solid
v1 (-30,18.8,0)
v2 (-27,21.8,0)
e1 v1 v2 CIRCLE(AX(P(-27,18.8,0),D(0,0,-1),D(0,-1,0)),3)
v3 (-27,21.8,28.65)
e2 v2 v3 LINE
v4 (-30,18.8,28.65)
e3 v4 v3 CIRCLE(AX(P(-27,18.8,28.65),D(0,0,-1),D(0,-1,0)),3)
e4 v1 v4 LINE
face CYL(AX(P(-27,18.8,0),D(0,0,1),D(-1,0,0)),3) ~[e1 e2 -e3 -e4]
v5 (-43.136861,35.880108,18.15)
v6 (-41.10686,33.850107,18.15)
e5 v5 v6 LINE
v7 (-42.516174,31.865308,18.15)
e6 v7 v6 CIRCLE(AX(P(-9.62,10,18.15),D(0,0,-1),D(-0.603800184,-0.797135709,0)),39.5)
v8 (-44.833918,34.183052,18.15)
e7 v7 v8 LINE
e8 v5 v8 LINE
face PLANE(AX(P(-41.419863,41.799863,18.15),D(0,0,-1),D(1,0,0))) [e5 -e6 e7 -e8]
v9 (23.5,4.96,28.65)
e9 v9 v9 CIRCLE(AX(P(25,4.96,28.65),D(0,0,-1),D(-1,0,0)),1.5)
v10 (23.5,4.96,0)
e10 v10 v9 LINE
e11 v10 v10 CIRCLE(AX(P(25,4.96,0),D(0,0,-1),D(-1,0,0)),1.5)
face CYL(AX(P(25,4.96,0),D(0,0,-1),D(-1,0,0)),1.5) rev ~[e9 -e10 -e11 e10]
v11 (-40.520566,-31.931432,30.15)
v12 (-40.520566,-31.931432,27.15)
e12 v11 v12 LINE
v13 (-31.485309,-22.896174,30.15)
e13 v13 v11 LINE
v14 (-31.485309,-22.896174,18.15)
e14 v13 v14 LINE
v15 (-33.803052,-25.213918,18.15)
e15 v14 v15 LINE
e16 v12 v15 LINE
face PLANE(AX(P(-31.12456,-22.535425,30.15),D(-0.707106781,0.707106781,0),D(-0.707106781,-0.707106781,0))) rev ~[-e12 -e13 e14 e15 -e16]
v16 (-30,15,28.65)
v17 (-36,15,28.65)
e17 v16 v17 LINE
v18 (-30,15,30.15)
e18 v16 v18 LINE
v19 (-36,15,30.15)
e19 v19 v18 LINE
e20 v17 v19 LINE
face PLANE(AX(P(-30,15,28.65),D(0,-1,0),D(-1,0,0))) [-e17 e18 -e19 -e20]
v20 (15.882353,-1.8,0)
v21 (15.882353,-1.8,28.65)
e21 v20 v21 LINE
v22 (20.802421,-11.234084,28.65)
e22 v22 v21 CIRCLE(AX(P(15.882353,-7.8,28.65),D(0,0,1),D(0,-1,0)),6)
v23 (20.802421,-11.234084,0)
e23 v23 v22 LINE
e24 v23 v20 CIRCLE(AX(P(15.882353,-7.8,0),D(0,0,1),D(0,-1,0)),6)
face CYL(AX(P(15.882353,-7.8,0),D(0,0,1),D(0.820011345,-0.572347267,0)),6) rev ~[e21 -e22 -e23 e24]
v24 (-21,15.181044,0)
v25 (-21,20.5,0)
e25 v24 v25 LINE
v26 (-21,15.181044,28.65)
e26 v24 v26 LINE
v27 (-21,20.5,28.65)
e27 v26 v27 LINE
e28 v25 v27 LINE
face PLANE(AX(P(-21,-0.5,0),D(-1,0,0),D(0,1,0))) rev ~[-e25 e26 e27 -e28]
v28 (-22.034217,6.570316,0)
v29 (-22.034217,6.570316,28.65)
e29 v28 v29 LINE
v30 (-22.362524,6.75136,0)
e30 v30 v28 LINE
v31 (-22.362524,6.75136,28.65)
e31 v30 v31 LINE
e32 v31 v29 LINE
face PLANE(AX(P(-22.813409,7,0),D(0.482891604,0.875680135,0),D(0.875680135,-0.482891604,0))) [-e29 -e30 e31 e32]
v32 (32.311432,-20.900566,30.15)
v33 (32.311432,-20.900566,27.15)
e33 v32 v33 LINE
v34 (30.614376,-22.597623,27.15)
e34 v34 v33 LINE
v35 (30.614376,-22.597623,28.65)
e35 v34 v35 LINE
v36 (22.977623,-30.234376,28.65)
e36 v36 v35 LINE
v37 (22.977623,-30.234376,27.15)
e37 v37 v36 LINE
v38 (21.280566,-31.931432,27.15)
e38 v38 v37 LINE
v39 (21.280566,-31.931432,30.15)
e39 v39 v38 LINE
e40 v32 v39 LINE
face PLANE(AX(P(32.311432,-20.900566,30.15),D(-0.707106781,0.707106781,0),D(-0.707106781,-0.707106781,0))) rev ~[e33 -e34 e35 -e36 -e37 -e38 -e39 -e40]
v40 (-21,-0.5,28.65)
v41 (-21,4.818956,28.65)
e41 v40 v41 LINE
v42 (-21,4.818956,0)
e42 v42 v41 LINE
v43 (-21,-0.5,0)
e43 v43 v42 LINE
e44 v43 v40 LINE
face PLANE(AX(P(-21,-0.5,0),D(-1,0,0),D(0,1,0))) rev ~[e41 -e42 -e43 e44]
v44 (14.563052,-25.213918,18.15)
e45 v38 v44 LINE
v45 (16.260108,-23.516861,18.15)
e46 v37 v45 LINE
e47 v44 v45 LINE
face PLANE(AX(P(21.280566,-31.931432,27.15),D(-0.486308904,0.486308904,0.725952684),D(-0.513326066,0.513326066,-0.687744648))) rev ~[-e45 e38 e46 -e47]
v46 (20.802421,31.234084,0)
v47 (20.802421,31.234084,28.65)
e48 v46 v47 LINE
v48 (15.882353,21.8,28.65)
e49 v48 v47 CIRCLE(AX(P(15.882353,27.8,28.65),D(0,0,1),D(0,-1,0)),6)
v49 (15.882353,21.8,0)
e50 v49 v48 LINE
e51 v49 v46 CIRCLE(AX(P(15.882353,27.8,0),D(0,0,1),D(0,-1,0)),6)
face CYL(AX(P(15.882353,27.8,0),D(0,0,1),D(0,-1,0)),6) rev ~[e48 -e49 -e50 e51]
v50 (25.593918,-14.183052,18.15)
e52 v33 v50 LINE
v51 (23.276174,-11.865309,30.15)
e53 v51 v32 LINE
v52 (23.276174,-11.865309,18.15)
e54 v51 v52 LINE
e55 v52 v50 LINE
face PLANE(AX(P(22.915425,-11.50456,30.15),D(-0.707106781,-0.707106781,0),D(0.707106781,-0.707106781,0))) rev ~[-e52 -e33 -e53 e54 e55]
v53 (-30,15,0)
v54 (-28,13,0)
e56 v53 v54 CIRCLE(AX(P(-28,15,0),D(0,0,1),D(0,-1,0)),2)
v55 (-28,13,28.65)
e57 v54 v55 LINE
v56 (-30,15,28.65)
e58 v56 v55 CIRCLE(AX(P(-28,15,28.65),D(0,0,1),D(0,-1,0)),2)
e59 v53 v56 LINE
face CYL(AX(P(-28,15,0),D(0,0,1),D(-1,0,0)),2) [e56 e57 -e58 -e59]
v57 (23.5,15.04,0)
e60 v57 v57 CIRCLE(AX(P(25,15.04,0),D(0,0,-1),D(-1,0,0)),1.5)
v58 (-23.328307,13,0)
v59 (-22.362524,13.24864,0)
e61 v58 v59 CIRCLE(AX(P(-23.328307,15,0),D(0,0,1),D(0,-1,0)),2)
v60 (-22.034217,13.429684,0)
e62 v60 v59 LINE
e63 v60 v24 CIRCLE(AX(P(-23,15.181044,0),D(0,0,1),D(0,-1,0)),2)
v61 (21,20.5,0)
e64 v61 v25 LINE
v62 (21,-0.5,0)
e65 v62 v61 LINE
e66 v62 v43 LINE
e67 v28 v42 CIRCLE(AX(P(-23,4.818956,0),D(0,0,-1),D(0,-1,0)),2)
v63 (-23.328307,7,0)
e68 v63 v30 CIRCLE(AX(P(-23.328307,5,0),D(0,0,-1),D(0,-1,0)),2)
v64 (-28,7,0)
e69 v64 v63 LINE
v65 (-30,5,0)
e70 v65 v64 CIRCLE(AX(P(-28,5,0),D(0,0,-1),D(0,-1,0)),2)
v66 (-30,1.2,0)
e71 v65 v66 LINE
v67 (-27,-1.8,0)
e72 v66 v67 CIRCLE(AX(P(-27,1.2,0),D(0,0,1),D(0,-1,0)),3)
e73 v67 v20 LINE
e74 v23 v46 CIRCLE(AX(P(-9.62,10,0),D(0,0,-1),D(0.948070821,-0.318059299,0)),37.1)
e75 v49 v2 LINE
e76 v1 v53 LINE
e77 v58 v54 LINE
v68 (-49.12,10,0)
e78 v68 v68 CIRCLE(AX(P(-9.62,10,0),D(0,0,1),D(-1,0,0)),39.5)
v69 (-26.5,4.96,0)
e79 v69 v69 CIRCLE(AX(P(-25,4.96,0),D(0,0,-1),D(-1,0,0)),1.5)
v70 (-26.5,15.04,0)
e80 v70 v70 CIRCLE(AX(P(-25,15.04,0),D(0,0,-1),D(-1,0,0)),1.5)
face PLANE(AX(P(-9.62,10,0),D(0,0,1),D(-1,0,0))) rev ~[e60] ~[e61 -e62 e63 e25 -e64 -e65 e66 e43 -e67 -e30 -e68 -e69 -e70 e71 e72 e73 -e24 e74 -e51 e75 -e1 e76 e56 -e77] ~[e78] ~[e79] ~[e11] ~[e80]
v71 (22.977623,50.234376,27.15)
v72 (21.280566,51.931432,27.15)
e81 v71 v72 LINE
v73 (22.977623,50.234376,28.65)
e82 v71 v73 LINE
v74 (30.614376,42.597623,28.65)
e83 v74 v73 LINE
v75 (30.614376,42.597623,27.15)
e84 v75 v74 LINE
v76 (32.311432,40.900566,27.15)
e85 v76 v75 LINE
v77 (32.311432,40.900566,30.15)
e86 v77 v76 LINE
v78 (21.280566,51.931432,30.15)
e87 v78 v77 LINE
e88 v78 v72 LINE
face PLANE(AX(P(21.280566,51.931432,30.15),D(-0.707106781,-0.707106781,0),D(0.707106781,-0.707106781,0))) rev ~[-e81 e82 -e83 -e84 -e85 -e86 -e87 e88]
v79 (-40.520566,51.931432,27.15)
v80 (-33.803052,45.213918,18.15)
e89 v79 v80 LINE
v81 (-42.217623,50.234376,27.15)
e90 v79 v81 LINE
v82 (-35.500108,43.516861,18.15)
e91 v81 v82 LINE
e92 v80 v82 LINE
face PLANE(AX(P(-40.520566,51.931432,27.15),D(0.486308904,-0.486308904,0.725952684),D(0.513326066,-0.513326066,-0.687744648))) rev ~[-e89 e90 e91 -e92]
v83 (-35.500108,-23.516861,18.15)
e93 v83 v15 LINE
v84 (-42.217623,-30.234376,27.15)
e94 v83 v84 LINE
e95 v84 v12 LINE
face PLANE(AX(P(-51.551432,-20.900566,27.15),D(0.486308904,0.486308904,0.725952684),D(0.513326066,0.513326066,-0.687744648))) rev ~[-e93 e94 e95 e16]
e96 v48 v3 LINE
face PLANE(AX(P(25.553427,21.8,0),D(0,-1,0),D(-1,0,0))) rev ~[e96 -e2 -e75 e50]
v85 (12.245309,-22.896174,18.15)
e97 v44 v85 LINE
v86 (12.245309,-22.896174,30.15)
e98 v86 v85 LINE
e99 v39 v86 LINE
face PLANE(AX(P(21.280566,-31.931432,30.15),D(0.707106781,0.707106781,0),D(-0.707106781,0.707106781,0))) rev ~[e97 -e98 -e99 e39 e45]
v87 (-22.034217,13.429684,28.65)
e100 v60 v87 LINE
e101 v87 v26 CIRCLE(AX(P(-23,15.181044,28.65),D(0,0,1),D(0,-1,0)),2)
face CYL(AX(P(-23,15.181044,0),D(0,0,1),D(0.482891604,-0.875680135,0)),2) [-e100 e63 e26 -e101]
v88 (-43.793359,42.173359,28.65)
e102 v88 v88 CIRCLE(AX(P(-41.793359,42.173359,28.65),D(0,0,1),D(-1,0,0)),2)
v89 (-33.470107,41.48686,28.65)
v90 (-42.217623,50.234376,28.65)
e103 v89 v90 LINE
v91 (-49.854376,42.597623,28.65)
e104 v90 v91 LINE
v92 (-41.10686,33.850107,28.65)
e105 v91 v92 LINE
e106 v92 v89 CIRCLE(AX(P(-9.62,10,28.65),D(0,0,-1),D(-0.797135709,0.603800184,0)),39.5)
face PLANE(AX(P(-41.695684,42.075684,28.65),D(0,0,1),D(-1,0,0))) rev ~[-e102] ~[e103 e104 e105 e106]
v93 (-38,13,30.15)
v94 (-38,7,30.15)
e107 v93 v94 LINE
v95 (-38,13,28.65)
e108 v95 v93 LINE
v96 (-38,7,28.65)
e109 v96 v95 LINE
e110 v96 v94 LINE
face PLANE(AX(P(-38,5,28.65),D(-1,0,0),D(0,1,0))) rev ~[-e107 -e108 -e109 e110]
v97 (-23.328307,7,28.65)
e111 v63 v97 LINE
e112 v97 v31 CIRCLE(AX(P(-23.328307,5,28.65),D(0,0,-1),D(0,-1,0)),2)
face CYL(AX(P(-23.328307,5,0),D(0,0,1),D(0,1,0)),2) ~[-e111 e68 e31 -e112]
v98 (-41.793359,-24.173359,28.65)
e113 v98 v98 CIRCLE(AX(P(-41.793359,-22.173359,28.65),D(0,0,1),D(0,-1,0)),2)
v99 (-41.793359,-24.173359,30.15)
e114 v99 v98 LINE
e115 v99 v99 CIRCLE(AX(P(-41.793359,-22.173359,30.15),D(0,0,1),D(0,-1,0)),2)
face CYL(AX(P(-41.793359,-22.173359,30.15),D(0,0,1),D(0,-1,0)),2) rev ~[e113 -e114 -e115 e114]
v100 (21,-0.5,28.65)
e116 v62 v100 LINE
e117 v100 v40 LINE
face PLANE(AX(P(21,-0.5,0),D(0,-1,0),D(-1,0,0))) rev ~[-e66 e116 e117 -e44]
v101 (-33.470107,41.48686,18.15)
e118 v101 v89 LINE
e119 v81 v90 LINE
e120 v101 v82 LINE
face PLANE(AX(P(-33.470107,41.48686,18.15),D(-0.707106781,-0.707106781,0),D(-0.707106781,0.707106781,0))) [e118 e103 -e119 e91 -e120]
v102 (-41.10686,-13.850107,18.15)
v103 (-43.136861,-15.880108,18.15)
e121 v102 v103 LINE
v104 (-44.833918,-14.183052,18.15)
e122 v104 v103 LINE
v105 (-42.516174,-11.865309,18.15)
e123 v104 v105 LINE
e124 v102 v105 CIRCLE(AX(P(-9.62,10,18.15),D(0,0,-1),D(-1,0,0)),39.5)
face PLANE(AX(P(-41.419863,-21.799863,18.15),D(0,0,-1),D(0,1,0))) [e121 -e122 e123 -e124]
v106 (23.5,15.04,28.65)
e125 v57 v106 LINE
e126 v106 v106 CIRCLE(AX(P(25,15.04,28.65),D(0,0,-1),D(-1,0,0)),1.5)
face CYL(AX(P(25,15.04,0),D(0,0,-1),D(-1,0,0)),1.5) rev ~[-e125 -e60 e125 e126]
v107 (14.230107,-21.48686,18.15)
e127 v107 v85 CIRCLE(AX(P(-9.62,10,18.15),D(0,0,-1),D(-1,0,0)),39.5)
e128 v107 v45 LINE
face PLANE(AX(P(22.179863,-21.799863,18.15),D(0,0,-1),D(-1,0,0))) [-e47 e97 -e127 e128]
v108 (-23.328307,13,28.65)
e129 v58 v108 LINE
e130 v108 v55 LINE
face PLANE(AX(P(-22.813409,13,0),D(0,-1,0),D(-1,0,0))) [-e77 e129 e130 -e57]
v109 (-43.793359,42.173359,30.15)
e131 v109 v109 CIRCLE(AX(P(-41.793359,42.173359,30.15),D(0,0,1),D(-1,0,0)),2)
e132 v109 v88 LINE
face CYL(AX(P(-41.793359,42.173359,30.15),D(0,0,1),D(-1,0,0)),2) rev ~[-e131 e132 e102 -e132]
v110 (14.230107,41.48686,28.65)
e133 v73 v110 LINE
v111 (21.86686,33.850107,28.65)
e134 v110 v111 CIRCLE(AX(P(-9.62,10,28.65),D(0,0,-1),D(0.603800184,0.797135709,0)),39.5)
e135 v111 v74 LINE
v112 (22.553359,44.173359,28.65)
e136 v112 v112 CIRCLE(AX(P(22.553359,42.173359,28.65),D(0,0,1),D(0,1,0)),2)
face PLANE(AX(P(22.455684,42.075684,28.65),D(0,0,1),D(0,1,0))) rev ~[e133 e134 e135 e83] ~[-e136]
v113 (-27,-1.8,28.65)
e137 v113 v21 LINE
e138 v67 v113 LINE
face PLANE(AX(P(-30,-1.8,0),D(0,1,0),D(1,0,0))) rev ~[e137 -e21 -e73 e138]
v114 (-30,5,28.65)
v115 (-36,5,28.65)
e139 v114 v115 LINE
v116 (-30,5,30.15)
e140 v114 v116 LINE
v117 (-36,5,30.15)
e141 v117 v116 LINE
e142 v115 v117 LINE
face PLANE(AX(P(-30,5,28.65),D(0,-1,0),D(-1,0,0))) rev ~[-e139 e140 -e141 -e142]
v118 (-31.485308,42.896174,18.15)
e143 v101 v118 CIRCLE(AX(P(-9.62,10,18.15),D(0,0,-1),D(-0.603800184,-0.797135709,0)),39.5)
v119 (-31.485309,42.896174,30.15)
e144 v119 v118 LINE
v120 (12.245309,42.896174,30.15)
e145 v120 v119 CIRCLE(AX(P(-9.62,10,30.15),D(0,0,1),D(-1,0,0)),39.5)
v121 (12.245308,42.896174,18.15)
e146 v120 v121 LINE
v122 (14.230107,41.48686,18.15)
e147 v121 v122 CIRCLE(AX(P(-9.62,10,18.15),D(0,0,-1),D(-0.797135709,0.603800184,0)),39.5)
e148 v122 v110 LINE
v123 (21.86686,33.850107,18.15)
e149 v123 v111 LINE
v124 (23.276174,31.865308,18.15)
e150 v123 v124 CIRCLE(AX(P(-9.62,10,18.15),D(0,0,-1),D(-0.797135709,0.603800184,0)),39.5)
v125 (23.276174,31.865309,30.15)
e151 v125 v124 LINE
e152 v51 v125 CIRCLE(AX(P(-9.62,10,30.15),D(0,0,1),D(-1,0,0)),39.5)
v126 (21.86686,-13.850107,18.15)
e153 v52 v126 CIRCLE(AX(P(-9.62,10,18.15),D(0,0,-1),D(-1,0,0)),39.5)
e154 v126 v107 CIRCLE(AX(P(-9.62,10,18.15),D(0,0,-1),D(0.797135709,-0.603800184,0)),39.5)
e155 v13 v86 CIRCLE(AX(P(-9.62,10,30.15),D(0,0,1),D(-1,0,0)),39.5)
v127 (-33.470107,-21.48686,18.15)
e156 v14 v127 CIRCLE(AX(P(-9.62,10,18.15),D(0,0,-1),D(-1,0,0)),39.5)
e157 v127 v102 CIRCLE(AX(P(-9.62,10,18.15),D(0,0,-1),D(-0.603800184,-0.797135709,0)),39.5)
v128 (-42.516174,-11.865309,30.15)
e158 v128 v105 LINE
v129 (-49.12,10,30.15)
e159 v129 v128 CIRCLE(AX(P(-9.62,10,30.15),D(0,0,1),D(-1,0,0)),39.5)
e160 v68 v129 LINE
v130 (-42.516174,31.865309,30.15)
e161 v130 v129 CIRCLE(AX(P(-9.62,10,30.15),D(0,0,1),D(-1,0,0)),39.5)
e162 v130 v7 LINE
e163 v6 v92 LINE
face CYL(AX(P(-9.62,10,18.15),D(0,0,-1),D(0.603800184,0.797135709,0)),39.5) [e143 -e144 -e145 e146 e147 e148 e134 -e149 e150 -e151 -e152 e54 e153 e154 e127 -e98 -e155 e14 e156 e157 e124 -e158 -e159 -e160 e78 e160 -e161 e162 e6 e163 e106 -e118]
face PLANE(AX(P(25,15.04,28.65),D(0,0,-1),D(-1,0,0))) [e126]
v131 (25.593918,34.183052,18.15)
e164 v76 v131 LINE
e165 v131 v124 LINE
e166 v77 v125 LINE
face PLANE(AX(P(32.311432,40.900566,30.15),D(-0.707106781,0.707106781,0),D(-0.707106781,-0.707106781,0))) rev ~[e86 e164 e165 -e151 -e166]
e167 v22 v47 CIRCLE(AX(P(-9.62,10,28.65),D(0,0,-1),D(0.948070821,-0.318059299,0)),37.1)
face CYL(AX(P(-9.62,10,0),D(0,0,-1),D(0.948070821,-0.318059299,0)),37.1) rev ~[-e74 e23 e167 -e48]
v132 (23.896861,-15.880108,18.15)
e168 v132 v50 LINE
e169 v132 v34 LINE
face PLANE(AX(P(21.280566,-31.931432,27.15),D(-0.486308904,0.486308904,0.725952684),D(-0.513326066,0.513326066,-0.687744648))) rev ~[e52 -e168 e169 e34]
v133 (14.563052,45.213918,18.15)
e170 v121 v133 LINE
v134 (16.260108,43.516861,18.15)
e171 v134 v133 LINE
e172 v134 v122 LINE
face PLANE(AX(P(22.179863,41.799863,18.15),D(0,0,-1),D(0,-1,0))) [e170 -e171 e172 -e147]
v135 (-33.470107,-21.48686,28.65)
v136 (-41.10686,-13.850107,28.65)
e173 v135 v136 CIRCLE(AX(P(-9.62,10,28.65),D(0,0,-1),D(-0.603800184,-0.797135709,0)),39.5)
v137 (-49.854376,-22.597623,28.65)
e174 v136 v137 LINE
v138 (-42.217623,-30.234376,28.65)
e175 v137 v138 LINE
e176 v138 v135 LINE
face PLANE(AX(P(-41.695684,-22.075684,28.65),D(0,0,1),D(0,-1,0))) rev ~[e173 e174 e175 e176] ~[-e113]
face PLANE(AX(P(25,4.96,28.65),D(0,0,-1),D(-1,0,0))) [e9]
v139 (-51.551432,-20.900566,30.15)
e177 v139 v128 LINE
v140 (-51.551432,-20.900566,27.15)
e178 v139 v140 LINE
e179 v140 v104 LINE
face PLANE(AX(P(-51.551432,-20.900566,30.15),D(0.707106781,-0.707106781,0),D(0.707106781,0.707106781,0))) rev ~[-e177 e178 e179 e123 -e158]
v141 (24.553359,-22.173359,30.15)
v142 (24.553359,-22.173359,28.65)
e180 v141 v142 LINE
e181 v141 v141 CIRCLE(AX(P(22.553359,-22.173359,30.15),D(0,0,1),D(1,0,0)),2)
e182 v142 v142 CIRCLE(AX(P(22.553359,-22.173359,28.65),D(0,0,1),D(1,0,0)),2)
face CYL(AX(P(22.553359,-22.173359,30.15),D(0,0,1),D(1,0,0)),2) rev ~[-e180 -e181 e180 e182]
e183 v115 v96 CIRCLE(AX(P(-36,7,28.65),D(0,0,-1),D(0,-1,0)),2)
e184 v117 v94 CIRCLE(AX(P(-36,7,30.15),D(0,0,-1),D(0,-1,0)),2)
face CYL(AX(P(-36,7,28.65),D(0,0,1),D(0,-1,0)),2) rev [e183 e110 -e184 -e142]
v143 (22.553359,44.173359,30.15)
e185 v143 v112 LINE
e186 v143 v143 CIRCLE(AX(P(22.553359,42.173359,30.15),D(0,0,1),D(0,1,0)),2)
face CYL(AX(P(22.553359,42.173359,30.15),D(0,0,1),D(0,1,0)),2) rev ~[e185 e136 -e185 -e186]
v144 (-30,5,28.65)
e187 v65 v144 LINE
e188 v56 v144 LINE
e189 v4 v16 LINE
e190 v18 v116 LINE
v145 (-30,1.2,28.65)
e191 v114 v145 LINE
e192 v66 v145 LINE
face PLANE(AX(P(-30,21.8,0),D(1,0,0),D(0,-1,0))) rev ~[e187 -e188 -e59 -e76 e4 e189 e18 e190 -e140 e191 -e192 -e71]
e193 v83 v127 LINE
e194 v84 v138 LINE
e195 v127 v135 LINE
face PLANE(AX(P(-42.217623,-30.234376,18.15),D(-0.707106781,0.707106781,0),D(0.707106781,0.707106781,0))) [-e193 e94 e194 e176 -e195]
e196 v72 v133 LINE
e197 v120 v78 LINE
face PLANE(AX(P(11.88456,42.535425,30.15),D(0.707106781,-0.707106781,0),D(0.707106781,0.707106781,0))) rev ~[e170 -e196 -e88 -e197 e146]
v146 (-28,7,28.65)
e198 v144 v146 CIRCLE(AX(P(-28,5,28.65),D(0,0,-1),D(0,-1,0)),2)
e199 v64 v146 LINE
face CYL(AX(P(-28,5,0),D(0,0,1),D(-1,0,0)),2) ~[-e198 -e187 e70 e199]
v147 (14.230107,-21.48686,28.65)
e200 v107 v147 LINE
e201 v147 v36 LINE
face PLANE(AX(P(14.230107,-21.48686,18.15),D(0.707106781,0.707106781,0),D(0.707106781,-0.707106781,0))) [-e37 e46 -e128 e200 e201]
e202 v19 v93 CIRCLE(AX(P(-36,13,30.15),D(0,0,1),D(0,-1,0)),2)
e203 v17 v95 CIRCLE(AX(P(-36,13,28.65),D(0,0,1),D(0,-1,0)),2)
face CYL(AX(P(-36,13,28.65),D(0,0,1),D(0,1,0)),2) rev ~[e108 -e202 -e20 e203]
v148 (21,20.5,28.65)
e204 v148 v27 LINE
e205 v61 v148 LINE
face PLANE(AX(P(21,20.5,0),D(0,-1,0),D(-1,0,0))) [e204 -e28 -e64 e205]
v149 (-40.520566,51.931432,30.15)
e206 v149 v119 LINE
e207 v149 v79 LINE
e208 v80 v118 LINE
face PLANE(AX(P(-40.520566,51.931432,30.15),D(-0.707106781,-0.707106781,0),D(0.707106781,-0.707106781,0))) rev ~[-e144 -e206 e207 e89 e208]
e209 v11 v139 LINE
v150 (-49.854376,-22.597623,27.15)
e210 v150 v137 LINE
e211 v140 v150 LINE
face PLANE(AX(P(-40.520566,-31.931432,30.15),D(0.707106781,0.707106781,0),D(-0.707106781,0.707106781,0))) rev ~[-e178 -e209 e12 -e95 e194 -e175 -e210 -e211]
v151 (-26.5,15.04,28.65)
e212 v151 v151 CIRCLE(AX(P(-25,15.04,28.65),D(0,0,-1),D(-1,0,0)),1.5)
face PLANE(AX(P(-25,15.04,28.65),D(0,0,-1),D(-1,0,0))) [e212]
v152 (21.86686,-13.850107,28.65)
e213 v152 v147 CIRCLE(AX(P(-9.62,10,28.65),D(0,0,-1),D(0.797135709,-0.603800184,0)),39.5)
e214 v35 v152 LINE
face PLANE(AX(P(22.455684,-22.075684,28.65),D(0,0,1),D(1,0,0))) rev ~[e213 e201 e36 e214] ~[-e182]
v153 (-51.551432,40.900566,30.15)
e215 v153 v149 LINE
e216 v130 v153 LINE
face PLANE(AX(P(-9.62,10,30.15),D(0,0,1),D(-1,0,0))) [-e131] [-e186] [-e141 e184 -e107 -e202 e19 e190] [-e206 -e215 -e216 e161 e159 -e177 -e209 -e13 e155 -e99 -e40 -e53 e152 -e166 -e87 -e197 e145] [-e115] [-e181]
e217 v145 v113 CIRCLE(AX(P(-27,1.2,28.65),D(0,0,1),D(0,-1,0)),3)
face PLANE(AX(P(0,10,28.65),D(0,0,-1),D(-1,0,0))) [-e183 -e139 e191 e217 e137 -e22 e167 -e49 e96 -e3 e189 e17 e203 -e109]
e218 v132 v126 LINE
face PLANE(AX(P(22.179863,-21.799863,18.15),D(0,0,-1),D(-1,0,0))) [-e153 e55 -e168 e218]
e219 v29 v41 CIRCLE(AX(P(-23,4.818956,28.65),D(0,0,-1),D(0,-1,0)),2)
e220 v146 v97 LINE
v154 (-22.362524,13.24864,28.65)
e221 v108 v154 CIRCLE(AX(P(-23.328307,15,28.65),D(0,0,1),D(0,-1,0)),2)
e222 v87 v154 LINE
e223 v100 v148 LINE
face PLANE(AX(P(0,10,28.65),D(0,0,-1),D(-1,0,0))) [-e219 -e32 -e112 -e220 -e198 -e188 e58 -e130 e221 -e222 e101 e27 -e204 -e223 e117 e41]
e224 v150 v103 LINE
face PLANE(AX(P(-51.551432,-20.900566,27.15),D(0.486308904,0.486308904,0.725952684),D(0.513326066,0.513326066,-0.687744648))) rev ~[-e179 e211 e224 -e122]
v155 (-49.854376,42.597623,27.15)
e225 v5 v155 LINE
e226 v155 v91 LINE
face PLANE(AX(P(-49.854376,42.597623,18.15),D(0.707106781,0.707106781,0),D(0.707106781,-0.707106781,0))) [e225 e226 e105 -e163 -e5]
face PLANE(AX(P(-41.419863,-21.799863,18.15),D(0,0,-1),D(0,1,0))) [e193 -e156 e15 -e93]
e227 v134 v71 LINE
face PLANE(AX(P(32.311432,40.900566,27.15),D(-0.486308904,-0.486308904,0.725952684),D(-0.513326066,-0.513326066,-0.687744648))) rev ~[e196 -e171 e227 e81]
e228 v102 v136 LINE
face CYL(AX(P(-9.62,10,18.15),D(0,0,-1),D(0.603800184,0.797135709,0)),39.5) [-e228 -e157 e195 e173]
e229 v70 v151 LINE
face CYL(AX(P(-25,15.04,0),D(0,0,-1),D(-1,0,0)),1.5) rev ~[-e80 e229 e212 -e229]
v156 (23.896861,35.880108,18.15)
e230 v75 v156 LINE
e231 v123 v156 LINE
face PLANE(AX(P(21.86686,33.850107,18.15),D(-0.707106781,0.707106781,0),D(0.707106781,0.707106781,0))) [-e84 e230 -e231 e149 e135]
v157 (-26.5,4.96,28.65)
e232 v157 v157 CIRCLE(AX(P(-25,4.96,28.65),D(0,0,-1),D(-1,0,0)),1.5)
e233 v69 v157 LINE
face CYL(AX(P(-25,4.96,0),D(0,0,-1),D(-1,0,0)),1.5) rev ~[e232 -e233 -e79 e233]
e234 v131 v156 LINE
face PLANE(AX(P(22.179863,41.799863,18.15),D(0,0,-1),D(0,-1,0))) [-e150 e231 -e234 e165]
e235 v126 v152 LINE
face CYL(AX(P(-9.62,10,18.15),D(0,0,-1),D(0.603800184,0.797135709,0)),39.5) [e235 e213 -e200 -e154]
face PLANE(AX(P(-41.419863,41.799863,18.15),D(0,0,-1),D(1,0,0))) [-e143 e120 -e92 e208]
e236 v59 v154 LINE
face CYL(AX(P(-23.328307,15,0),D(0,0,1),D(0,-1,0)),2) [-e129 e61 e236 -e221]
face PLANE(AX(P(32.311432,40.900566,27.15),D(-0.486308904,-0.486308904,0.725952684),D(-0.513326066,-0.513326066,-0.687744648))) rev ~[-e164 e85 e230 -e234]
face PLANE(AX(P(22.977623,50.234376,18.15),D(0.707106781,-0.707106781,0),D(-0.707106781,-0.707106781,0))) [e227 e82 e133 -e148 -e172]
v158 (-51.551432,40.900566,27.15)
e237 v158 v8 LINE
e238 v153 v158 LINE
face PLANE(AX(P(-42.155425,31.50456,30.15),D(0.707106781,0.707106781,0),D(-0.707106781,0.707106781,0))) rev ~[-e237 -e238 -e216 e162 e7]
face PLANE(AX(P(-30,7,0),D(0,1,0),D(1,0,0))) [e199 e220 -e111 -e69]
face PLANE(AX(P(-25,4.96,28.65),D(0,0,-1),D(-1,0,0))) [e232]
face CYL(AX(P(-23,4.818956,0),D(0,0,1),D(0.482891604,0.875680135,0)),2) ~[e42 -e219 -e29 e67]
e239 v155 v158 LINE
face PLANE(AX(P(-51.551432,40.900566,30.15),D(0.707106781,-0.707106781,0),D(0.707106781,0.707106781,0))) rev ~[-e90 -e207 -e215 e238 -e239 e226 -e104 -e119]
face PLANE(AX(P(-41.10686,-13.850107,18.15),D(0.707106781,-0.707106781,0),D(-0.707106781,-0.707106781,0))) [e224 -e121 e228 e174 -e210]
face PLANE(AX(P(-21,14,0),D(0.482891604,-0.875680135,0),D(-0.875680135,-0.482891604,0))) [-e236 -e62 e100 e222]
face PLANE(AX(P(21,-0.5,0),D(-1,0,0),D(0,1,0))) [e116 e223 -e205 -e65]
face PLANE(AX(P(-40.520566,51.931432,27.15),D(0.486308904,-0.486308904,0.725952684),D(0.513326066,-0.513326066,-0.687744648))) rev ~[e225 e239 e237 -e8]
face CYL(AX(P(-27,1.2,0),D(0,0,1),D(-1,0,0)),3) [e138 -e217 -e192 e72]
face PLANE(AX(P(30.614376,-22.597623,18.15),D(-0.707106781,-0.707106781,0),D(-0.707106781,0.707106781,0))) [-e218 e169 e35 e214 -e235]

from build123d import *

# Parameters (mm, degrees)
SKETCH1_R           = 39.5
BOSS_EXTRUDE1_DEPTH = 30.15
SKETCH3_W           = 42
SKETCH3_H           = 21
CUT_EXTRUDE1_DEPTH  = 28.65
CUT_EXTRUDE2_DEPTH  = 28.65
SKETCH5_R           = 1.5
CUT_EXTRUDE3_DEPTH  = 28.65
SKETCH8_W           = 8
SKETCH8_H           = 10
CUT_EXTRUDE5_DEPTH  = 76.391291937
FILLET1_R           = 3
FILLET3_R           = 6
FILLET2_R           = 2
SKETCH12_R          = 2
BOSS_EXTRUDE3_DEPTH = 12
CUT_EXTRUDE6_REACH  = 78.373
CUT_EXTRUDE7_DEPTH  = 10.5
CIRPATTERN19_COUNT  = 4


with BuildPart() as part:
    # Sketch1 → Boss-Extrude1 (new body)
    with BuildSketch(Plane.XY):
        with Locations(Location((-9.62, 10, 0), (0, 0, 180))):
            Circle(SKETCH1_R)
    extrude(amount=BOSS_EXTRUDE1_DEPTH)

    # Sketch3 → Cut-Extrude1 (cut)
    with BuildSketch(Plane(origin=(0, 0, 0), x_dir=(-1, 0, 0), z_dir=(0, 0, -1))):
        with Locations((0, 10)):
            Rectangle(SKETCH3_W, SKETCH3_H)
    extrude(amount=-CUT_EXTRUDE1_DEPTH, mode=Mode.SUBTRACT)

    # Sketch4 → Cut-Extrude2 (cut)
    with BuildSketch(Plane(origin=(0, 0, 0), x_dir=(-1, 0, 0), z_dir=(0, 0, -1))):
        with BuildLine():
            Line((30, -1.8), (-25.55342747, -1.8))
            ThreePointArc((-25.55342747, -1.8), (46.72, 10), (-25.55342747, 21.8))
            Line((-25.55342747, 21.8), (30, 21.8))
            Line((30, 21.8), (30, -1.8))
        make_face()
    extrude(amount=-CUT_EXTRUDE2_DEPTH, mode=Mode.SUBTRACT)

    # Sketch5 → Cut-Extrude3 (cut)
    with BuildSketch(Plane(origin=(0, 0, 0), x_dir=(-1, 0, 0), z_dir=(0, 0, -1))):
        with Locations((25, 4.96)):
            Circle(SKETCH5_R)
        with Locations((25, 15.04)):
            Circle(SKETCH5_R)
        with Locations((-25, 4.96)):
            Circle(SKETCH5_R)
        with Locations((-25, 15.04)):
            Circle(SKETCH5_R)
        Polygon((30, 7), (22.813409321, 7), (21, 6), (21, 7), (21, 13), (21, 14), (22.813409321, 13), (30, 13), align=None)
    extrude(amount=-CUT_EXTRUDE3_DEPTH, mode=Mode.SUBTRACT)

    # Sketch8 → Cut-Extrude5 (cut, through all)
    with BuildSketch(Plane(origin=(0, 0, 28.65), x_dir=(-1, 0, 0), z_dir=(0, 0, -1))):
        with Locations((34, 10)):
            Rectangle(SKETCH8_W, SKETCH8_H)
    extrude(amount=-CUT_EXTRUDE5_DEPTH, mode=Mode.SUBTRACT)

    # Fillet1
    fillet1_edges = [part.edges().sort_by_distance(p)[0] for p in [
        (-30, -1.8, 14.325),
        (-30, 21.8, 14.325),
    ]]
    fillet(fillet1_edges, radius=FILLET1_R)

    # Fillet3
    fillet3_edges = [part.edges().sort_by_distance(p)[0] for p in [
        (25.55342747, 21.8, 14.325),
        (25.55342747, -1.8, 14.325),
    ]]
    fillet(fillet3_edges, radius=FILLET3_R)

    # Fillet2
    fillet2_edges = [part.edges().sort_by_distance(p)[0] for p in [
        (-30, 13, 14.325),
        (-30, 7, 14.325),
        (-22.813409321, 7, 14.325),
        (-21, 6, 14.325),
        (-21, 14, 14.325),
        (-22.813409321, 13, 14.325),
        (-38, 15, 29.4),
        (-38, 5, 29.4),
    ]]
    fillet(fillet2_edges, radius=FILLET2_R)


with BuildPart() as body_2:
    # Sketch12 → Boss-Extrude3 (new body)
    with BuildSketch(Plane.XY.offset(30.15)):
        with BuildLine():
            Line((22.915425491, -11.504559705), (32.311432124, -20.900566338))
            Line((32.311432124, -20.900566338), (21.280566338, -31.931432124))
            Line((21.280566338, -31.931432124), (11.884559705, -22.535425491))
            ThreePointArc((11.884559705, -22.535425491), (17.957164466, -17.577164466), (22.915425491, -11.504559705))
        make_face()
        with Locations((22.553358544, -22.173358544)):
            Circle(SKETCH12_R, mode=Mode.SUBTRACT)
    extrude(amount=-BOSS_EXTRUDE3_DEPTH)

    # Cut-Extrude6: up to this face of the body (flat: up to its plane)
    cut_extrude6_end = Plane(body_2.part.faces().sort_by_distance((27.613428808, -16.202563021, 24.15))[0])
    # Sketch13 → Cut-Extrude6 (cut, up to the picked face)
    with BuildSketch(Plane(origin=(-5.325432893, -5.325432893, 0), x_dir=(0, 0, 1), z_dir=(-0.7071067811865415, -0.7071067811865537, 0)), mode=Mode.PRIVATE) as cut_extrude6_sk1:
        Polygon((18.15, -37.626564953), (27.15, -37.626564953), (18.15, -28.126564953), align=None)
    cut_extrude6_tool1 = split(extrude(cut_extrude6_sk1.sketch, amount=-CUT_EXTRUDE6_REACH, mode=Mode.PRIVATE), bisect_by=cut_extrude6_end, keep=Keep.BOTH, mode=Mode.PRIVATE)
    add(cut_extrude6_tool1.solids().sort_by(Axis((19.041395, -29.692261, 21.15), (0.7071067811865415, 0.7071067811865537, 0)))[0], mode=Mode.SUBTRACT)

    # Sketch14 → Cut-Extrude7 (cut)
    with BuildSketch(Plane(origin=(0, 0, 18.15), x_dir=(-1, 0, 0), z_dir=(0, 0, -1))):
        with BuildLine():
            Line((-14.230107258, -21.486860494), (-22.977622613, -30.23437585))
            Line((-22.977622613, -30.23437585), (-30.61437585, -22.597622613))
            Line((-30.61437585, -22.597622613), (-21.866860494, -13.850107258))
            ThreePointArc((-21.866860494, -13.850107258), (-18.310717857, -17.930717857), (-14.230107258, -21.486860494))
        make_face()
    extrude(amount=-CUT_EXTRUDE7_DEPTH, mode=Mode.SUBTRACT)


with BuildPart() as cirpattern19_1:
    # CirPattern19: pattern copy
    add(body_2.part.rotate(Axis((-9.62, 10, 0), (0, 0, 1)), 1 * 360 / CIRPATTERN19_COUNT))


with BuildPart() as cirpattern19_2:
    # CirPattern19: pattern copy
    add(body_2.part.rotate(Axis((-9.62, 10, 0), (0, 0, 1)), 2 * 360 / CIRPATTERN19_COUNT))


with BuildPart() as cirpattern19_3:
    # CirPattern19: pattern copy
    add(body_2.part.rotate(Axis((-9.62, 10, 0), (0, 0, 1)), 3 * 360 / CIRPATTERN19_COUNT))


with BuildPart() as part_1:
    add(part.part)

    # Combine1: union body 2, CirPattern19_3, CirPattern19_2, CirPattern19_1
    add(body_2.part)
    add(cirpattern19_3.part)
    add(cirpattern19_2.part)
    add(cirpattern19_1.part)


solid = part_1.part
